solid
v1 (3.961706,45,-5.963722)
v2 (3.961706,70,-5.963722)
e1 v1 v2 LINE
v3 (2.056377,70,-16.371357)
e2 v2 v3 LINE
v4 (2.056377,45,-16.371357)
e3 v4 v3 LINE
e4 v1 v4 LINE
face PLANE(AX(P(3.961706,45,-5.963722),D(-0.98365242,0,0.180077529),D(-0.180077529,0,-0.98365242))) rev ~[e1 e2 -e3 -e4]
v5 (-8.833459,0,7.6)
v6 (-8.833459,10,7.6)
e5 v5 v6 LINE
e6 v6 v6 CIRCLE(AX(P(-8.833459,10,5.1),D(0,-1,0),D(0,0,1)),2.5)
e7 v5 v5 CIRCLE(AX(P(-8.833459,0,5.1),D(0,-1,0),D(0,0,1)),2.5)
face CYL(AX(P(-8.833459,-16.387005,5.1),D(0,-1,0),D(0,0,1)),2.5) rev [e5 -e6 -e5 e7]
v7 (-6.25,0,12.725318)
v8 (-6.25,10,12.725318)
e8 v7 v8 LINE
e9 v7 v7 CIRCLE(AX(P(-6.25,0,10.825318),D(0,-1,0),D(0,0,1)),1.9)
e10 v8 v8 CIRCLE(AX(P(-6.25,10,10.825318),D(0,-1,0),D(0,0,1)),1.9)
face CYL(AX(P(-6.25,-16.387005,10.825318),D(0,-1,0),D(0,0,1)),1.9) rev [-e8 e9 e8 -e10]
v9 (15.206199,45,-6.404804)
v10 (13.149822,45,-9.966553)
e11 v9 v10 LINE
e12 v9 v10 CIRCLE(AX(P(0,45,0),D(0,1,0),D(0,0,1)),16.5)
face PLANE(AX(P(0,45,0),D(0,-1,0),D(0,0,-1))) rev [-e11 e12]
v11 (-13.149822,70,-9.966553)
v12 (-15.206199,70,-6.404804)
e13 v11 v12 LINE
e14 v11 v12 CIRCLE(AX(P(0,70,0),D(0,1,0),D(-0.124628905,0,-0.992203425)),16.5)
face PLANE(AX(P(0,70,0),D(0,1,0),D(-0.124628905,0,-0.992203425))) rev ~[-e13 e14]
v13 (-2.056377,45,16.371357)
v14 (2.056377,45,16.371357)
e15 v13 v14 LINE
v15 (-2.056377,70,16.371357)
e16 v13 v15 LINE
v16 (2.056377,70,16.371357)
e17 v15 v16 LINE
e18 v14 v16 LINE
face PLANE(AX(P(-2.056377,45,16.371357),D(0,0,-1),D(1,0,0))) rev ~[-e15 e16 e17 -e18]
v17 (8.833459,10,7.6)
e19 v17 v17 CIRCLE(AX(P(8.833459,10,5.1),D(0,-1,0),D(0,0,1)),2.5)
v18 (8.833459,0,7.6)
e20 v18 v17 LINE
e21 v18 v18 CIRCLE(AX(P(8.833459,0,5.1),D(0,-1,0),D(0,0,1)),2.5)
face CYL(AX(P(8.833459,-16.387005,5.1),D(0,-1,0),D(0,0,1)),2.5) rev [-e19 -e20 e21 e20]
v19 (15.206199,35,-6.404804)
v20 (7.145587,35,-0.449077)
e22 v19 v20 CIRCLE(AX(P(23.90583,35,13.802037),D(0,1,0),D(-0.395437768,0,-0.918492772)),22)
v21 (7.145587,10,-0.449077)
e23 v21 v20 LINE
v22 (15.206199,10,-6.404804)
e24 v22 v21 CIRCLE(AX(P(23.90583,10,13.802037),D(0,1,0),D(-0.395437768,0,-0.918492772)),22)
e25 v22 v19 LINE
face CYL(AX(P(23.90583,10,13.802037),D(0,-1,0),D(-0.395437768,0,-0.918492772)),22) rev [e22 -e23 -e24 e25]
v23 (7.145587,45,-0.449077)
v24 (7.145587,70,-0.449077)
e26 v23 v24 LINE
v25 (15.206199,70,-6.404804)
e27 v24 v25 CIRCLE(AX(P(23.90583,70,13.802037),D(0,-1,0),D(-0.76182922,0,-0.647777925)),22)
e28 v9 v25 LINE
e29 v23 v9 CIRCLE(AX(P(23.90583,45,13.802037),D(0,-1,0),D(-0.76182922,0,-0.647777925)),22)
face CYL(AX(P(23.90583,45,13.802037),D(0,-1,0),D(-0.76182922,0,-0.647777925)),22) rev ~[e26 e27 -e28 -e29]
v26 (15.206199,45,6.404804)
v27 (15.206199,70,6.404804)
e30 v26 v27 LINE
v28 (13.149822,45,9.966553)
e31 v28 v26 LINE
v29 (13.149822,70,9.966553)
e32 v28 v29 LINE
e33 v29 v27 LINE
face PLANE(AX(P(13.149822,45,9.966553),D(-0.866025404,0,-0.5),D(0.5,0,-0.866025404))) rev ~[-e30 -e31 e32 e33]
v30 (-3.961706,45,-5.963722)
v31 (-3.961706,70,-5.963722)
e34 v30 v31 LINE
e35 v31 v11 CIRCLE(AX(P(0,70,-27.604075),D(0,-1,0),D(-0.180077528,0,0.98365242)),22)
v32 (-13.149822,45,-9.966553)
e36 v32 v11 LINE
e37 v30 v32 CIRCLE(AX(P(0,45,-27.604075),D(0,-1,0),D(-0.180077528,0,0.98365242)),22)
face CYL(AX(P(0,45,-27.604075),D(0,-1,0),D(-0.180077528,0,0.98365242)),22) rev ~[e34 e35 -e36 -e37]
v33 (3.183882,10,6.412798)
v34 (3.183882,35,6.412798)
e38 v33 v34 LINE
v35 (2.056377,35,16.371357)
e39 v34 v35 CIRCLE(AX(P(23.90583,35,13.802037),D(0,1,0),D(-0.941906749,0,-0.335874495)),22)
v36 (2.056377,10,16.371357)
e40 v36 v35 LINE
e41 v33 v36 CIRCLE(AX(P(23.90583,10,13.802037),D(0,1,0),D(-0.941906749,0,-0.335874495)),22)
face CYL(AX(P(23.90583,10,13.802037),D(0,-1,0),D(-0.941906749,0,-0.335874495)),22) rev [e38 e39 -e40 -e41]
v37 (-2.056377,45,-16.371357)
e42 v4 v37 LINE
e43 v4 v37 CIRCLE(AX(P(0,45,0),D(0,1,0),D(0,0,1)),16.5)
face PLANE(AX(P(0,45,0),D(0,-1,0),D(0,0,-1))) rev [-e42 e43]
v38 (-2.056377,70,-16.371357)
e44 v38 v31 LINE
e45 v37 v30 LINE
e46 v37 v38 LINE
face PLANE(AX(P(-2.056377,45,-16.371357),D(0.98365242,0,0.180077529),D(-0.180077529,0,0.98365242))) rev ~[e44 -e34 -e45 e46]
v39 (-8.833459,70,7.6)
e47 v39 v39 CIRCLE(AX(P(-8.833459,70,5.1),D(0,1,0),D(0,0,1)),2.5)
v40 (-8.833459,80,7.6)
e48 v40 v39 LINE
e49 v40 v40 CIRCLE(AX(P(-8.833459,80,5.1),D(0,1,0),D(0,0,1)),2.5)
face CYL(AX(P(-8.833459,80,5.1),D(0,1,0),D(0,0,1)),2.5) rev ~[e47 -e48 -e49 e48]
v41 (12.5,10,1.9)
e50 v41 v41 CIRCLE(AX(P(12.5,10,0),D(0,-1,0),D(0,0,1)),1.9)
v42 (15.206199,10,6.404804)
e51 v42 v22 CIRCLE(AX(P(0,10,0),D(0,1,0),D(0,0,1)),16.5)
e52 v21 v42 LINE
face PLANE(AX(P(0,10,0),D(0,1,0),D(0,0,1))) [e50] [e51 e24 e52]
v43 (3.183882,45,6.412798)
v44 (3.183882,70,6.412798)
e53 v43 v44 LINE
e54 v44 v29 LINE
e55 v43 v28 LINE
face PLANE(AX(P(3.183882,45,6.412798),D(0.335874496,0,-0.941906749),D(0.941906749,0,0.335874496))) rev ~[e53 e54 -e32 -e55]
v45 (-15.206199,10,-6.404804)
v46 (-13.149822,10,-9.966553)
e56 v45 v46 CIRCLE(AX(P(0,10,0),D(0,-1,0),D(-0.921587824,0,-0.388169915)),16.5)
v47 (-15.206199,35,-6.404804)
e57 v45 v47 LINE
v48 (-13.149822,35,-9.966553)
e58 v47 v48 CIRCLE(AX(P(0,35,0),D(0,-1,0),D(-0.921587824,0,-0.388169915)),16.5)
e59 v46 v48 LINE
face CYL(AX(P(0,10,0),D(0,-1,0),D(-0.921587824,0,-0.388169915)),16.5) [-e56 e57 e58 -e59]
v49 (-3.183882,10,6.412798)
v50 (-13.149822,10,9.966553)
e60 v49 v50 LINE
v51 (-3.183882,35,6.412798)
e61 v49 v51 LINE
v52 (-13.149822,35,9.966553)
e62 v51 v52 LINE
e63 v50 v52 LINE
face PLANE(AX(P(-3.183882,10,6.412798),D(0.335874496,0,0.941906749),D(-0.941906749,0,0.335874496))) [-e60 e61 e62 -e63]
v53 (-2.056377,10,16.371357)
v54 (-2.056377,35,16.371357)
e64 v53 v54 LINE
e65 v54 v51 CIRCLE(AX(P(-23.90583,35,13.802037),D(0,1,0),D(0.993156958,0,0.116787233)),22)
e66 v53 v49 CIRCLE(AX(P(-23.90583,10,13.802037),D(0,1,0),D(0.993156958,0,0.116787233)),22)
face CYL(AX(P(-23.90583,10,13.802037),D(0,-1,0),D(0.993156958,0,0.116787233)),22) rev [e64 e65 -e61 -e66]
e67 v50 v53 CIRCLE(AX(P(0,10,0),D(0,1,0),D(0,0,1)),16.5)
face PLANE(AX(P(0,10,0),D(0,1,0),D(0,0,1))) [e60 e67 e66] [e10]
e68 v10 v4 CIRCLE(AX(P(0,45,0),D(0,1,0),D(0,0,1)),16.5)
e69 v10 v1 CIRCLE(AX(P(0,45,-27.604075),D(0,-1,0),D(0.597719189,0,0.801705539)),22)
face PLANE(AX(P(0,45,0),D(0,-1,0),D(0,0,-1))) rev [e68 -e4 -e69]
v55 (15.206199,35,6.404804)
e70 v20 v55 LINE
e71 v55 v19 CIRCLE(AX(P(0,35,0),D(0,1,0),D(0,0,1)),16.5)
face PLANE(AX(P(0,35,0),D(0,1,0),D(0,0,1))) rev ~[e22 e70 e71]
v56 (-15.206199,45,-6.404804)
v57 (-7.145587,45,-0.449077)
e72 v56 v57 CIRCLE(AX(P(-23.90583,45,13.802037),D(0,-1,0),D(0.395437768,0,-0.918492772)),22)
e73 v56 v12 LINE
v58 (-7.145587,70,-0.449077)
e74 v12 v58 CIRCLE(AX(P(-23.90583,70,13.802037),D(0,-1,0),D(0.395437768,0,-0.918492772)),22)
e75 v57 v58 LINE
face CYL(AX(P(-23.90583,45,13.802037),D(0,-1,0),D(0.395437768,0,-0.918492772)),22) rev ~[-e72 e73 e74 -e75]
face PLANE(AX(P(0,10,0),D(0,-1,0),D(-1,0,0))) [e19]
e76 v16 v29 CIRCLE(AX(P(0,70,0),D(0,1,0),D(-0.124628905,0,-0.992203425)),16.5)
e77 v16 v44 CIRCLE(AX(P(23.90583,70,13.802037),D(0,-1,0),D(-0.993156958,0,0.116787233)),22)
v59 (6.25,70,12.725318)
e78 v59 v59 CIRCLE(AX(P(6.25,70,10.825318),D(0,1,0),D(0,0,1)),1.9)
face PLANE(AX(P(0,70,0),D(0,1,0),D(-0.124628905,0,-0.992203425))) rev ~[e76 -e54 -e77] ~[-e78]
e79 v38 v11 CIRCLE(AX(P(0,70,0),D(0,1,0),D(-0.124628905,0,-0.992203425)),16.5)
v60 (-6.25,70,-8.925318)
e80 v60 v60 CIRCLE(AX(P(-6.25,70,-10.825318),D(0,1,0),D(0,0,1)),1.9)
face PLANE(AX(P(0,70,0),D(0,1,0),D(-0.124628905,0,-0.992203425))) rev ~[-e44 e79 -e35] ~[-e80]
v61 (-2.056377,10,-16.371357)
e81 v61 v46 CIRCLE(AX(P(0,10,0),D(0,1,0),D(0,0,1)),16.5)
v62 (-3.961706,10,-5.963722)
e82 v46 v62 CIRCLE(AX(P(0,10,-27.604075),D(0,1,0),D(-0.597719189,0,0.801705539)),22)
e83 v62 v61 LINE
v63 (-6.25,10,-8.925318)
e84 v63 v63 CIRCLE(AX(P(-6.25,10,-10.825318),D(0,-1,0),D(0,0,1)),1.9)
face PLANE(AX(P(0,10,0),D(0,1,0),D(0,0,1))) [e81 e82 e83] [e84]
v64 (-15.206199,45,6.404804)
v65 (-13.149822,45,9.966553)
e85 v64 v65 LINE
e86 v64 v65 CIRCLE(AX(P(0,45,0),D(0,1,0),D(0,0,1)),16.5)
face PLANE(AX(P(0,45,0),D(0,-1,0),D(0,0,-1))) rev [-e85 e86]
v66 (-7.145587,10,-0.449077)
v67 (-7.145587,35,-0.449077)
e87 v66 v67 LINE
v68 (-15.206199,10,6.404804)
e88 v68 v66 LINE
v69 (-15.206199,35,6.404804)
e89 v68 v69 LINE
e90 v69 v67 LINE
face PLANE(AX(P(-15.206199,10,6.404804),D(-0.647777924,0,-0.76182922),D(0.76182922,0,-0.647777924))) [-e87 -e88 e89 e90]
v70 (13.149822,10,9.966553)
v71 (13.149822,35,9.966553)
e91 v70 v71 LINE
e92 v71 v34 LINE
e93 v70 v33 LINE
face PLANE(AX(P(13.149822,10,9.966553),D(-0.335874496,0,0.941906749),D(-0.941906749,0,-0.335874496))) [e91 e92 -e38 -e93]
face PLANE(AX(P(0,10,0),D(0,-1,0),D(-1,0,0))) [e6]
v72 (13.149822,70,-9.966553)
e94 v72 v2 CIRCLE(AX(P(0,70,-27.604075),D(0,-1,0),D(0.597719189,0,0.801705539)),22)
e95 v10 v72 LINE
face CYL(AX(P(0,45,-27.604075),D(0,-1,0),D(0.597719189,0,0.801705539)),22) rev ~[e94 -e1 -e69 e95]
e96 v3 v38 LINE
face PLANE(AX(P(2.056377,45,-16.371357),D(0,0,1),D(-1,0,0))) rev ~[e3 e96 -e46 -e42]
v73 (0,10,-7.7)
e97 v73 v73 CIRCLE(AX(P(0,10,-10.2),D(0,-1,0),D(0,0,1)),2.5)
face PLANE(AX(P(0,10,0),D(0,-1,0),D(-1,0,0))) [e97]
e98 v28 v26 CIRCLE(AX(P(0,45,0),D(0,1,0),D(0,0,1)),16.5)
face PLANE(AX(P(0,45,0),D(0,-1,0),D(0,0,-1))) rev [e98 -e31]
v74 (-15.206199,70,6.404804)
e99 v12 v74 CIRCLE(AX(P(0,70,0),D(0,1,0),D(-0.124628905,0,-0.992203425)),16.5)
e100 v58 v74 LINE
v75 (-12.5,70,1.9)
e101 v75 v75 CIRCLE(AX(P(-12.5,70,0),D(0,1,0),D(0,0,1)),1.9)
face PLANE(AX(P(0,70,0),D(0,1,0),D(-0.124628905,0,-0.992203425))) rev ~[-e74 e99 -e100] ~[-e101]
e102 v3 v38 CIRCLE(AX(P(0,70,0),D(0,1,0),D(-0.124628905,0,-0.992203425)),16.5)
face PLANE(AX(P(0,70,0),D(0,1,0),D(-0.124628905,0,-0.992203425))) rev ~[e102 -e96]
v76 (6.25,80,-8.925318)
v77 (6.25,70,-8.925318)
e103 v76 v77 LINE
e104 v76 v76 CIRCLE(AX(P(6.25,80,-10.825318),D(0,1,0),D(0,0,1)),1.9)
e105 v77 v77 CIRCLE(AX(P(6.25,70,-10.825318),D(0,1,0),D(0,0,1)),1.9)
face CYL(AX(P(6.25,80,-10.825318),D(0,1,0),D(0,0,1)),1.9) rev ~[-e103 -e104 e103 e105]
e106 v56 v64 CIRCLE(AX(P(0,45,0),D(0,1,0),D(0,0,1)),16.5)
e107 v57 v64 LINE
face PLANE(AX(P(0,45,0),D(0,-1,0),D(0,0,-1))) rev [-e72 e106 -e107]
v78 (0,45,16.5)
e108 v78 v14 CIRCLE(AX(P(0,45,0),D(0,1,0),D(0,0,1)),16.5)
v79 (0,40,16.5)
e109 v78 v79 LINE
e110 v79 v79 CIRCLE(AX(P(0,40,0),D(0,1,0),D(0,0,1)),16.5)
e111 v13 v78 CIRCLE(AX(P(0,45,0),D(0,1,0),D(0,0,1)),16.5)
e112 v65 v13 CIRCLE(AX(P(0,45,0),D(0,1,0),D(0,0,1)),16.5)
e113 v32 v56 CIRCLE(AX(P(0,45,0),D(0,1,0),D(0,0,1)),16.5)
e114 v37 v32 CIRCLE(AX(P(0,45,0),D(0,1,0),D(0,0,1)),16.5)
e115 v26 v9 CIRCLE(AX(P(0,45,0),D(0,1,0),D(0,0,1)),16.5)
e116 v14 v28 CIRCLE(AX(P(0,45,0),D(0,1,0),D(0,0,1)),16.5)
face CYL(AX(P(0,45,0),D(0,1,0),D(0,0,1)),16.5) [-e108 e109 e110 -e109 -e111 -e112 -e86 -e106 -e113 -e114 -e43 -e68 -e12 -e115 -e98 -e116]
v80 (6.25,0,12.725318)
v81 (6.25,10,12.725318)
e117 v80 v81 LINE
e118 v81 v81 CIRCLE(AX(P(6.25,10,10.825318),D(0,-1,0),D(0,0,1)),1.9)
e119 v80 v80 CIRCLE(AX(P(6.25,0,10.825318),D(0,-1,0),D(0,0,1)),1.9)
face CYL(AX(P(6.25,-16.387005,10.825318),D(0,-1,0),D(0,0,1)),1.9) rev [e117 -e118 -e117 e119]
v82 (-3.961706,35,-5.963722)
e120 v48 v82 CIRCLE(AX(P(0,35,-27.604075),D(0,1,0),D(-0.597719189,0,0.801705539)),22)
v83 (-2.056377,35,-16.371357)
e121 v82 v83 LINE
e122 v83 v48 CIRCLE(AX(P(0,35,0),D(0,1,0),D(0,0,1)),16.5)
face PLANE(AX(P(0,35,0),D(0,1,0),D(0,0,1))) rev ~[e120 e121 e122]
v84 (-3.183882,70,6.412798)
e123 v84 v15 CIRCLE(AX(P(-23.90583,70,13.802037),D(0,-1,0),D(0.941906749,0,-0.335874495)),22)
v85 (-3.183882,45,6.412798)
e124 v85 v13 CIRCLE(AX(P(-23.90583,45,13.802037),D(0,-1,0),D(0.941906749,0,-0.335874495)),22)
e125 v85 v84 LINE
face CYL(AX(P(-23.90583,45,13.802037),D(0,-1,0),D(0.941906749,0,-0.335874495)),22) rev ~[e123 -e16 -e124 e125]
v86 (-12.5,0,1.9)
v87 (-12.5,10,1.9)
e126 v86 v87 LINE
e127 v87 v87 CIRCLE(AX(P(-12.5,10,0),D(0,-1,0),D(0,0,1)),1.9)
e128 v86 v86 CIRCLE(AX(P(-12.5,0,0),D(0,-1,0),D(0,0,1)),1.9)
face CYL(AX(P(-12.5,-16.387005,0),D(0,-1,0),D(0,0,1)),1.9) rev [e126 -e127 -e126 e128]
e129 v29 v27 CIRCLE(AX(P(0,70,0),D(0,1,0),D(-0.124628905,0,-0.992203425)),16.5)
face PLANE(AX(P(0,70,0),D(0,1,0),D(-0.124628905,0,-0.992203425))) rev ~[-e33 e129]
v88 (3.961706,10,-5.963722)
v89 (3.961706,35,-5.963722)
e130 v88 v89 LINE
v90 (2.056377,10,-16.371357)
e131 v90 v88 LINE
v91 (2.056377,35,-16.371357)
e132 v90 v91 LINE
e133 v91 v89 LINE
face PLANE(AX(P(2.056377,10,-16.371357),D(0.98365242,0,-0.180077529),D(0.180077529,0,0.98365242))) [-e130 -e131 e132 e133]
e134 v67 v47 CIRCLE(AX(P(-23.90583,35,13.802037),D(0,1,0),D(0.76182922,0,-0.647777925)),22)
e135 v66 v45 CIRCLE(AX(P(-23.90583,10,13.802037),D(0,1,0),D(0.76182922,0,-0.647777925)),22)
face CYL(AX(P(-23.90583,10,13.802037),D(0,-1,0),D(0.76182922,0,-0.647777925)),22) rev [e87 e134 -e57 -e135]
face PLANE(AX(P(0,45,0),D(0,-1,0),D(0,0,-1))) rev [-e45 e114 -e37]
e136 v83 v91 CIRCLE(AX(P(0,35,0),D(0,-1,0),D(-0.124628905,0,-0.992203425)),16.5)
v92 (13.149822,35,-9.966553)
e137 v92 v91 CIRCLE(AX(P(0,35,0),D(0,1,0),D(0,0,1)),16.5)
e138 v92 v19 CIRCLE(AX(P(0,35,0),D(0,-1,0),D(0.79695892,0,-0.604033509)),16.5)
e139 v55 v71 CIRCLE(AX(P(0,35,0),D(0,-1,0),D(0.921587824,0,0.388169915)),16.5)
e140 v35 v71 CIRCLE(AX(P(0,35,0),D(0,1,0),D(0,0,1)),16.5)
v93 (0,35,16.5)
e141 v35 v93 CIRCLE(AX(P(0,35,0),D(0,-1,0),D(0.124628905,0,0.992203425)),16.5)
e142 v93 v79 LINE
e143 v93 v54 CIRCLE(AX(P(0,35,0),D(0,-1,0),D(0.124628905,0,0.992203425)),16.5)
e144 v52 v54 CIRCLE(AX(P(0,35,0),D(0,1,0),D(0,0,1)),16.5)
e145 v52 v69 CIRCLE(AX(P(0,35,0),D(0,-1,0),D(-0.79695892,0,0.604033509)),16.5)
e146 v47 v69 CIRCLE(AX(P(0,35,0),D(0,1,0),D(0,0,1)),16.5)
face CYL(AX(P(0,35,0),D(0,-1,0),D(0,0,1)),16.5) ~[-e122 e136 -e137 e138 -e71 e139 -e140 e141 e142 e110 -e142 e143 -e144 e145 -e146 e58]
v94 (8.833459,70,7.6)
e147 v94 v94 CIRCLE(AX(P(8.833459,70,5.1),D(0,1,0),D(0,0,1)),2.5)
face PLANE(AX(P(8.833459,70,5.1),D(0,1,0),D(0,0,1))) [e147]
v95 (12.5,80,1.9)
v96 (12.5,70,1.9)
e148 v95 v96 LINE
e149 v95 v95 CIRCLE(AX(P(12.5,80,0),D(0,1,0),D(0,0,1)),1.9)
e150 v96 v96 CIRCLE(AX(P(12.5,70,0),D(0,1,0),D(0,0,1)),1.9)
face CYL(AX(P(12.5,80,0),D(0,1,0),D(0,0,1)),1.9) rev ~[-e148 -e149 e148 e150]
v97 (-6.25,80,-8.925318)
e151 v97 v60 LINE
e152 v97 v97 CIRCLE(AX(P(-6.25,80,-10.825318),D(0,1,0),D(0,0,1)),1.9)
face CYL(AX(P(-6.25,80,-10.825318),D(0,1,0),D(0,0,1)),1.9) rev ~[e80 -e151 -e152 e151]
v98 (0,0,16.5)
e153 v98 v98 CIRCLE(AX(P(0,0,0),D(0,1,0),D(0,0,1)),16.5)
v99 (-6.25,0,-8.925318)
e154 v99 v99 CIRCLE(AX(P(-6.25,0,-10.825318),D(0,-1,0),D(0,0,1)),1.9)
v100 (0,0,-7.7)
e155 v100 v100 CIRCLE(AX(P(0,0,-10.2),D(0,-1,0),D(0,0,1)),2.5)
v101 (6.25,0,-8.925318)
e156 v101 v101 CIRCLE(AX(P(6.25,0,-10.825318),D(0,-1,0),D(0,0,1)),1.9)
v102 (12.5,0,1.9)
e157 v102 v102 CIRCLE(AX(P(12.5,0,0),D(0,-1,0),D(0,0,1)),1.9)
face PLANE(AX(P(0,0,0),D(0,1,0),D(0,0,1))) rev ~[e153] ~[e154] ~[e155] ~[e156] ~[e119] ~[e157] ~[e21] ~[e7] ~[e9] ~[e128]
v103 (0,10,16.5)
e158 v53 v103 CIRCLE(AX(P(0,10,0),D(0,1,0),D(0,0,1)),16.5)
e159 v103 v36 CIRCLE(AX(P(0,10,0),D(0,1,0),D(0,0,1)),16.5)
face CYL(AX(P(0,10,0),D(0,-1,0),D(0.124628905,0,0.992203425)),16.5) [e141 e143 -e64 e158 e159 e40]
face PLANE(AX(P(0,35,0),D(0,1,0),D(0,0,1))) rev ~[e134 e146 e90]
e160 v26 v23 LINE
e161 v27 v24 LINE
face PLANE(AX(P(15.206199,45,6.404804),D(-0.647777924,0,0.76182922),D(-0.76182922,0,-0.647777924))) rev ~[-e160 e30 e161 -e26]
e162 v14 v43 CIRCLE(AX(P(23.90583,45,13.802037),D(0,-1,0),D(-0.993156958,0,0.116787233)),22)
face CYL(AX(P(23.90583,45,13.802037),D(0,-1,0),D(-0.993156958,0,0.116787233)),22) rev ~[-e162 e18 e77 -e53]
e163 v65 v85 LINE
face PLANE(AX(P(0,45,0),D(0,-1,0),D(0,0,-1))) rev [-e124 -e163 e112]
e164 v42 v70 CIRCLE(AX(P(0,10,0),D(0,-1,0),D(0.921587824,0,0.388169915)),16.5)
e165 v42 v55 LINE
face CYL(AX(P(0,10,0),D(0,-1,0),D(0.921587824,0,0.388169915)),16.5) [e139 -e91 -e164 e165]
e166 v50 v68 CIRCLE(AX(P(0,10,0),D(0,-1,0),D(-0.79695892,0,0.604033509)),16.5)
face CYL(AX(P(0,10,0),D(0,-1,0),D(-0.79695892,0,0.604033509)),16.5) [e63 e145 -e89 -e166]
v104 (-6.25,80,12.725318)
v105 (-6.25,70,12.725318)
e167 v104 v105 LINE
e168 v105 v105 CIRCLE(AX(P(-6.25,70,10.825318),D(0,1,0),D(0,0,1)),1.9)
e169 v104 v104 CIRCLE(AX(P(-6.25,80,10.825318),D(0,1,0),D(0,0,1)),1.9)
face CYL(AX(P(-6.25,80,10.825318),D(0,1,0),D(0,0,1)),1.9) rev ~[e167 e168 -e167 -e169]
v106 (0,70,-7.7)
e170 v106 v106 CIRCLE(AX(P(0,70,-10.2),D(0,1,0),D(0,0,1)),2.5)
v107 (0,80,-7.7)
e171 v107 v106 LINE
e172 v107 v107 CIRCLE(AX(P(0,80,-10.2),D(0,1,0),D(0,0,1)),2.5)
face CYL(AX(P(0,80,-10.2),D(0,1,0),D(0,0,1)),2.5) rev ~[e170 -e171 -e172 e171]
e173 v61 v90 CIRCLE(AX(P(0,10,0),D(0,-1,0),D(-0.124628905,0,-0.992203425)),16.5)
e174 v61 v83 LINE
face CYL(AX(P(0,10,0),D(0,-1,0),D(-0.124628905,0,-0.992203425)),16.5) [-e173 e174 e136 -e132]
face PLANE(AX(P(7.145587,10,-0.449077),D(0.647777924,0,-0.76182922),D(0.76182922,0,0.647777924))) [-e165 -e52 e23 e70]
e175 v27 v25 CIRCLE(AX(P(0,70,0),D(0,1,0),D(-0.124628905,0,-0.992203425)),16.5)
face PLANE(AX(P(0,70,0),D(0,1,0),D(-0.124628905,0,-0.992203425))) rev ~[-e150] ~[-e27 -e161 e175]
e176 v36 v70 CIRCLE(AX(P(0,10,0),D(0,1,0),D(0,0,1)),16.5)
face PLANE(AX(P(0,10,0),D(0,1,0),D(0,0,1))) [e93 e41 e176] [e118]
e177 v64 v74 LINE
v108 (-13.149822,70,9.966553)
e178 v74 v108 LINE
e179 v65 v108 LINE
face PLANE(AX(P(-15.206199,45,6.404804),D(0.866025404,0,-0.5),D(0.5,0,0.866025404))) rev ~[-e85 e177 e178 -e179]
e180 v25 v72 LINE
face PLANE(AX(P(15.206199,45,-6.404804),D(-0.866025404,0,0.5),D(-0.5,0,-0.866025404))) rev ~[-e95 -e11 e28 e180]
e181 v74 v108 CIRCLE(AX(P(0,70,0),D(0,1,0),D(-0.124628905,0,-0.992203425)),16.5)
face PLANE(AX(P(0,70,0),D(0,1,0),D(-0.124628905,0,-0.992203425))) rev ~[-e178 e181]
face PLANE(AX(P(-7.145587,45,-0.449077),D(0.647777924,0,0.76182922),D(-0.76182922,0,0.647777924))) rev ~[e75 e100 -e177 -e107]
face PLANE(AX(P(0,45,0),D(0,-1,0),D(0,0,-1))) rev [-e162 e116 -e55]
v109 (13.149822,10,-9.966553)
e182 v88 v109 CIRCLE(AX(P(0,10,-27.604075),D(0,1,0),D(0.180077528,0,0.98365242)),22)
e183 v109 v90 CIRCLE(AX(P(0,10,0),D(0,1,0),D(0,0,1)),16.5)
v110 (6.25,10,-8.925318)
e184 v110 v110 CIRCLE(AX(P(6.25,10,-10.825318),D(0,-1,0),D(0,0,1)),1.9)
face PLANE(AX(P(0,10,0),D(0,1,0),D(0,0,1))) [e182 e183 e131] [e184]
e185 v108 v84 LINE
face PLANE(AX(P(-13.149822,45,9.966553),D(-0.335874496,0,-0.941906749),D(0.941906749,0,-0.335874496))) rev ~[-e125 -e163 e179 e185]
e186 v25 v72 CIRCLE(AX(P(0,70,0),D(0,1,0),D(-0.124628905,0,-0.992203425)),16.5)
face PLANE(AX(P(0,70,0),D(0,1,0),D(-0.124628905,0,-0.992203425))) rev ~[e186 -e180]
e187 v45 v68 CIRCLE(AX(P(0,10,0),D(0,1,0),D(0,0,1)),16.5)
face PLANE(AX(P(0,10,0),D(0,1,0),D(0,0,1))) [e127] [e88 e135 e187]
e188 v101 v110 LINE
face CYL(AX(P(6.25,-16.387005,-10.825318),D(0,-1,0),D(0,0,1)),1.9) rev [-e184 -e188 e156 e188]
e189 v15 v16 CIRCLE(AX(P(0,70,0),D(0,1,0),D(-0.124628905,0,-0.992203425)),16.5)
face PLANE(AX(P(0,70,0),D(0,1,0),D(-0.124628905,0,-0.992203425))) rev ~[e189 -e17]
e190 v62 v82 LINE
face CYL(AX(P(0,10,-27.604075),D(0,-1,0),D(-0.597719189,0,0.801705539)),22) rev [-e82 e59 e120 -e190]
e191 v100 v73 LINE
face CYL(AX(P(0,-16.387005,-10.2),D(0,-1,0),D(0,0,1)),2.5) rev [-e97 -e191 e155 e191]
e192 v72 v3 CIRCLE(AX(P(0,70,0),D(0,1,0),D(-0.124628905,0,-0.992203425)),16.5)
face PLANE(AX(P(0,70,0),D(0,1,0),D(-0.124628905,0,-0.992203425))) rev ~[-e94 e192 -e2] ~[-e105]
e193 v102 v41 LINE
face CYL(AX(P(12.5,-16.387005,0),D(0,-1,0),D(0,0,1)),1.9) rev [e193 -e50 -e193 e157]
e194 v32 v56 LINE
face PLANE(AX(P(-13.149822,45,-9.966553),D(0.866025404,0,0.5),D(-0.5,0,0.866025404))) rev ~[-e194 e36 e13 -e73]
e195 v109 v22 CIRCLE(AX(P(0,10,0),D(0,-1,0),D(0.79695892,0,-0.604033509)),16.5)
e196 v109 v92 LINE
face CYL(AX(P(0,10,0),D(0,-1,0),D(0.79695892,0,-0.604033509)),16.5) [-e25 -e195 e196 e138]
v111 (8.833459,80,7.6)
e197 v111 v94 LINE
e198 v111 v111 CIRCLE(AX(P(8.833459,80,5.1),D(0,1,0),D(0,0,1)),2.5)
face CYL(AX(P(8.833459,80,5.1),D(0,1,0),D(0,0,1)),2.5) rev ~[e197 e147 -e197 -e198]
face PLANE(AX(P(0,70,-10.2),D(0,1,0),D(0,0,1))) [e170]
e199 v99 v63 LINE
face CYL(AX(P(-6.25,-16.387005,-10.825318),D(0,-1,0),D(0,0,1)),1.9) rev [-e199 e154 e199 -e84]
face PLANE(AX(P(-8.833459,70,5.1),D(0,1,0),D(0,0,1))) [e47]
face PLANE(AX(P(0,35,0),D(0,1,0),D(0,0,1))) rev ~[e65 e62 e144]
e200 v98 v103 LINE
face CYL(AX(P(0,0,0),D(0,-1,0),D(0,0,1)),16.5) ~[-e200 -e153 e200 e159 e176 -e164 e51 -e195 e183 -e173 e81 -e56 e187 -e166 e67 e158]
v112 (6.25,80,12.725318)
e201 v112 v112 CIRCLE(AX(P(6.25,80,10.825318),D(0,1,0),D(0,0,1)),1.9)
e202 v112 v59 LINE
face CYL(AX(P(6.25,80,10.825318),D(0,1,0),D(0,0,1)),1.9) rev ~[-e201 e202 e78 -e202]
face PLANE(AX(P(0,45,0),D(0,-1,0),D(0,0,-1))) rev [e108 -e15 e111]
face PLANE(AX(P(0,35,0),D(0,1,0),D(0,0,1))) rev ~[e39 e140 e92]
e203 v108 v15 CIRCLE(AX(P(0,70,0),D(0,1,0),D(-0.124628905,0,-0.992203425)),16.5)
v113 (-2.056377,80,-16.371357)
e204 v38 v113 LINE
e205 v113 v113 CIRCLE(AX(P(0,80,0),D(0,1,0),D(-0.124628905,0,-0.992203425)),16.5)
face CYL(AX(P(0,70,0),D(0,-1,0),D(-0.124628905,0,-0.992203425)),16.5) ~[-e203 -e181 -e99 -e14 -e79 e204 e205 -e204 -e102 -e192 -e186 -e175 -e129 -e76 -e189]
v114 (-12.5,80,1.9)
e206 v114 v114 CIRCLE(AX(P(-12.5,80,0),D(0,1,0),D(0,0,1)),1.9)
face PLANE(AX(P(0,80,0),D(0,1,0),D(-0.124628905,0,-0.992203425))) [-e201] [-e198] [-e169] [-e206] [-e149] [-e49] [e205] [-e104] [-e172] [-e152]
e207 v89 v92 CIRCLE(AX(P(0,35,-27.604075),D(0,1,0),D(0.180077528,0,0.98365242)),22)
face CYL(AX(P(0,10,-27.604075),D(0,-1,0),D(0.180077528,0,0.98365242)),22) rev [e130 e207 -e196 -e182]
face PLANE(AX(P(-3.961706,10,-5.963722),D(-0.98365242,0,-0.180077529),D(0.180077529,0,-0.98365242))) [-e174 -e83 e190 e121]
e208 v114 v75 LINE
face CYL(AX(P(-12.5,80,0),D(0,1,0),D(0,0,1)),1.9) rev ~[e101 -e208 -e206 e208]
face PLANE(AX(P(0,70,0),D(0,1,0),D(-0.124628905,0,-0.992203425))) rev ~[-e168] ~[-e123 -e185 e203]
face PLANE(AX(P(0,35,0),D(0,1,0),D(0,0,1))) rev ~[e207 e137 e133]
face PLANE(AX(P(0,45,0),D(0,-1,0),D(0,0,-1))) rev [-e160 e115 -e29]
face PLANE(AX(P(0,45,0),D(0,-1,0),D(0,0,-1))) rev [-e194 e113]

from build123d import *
from build123d.topology import SkipClean

# Parameters (mm, degrees)
SKETCH_1_R               = 16.5
EXTRUDE_1_DEPTH          = 10
CUT_EXTRUDE_1_DEPTH      = 26.38700455
CUT_EXTRUDE_1_DEPTH_BACK = 26.38700455
SKETCH_4_R               = 2.5
SKETCH_4_R_2             = 1.9
EXTRUDE_2_DEPTH          = 25
SKETCH_7_R               = 16.5
EXTRUDE_3_DEPTH          = 5
EXTRUDE_4_DEPTH          = 25
SKETCH_10_R              = 16.5
EXTRUDE_5_DEPTH          = 10
SKETCH_11_R              = 1.9
SKETCH_11_R_2            = 2.5
CUT_EXTRUDE_3_DEPTH      = 10


with BuildPart() as part:
    # 草图1 → 凸台-拉伸1 (new body)
    with BuildSketch(Plane(origin=(0, 0, 0), x_dir=(1, 0, 0), z_dir=(0, 1, 0))):
        with Locations(Location((0, 0, 0), (0, 0, 270))):
            Circle(SKETCH_1_R)
    extrude(amount=EXTRUDE_1_DEPTH)

    # 草图4 → 切除-拉伸1 (cut, two sides: drawn at the far end of the back side and taken through both)
    with BuildSketch(Plane(origin=(0, 10, 0), x_dir=(1, 0, 0), z_dir=(0, 1, 0)).offset(-CUT_EXTRUDE_1_DEPTH_BACK)):
        with Locations(Location((0, 10.2, 0), (0, 0, 270))):
            Circle(SKETCH_4_R)
        with Locations(Location((-6.25, 10.825317547, 0), (0, 0, 270))):
            Circle(SKETCH_4_R_2)
        with Locations(Location((6.25, 10.825317547, 0), (0, 0, 270))):
            Circle(SKETCH_4_R_2)
        with Locations(Location((12.5, 0, 0), (0, 0, 270))):
            Circle(SKETCH_4_R_2)
        with Locations(Location((6.25, -10.825317547, 0), (0, 0, 270))):
            Circle(SKETCH_4_R_2)
        with Locations(Location((-6.25, -10.825317547, 0), (0, 0, 270))):
            Circle(SKETCH_4_R_2)
        with Locations(Location((-12.5, 0, 0), (0, 0, 270))):
            Circle(SKETCH_4_R_2)
        with Locations(Location((8.833459119, -5.1, 0), (0, 0, 270))):
            Circle(SKETCH_4_R)
        with Locations(Location((-8.833459119, -5.1, 0), (0, 0, 270))):
            Circle(SKETCH_4_R)
    extrude(amount=CUT_EXTRUDE_1_DEPTH + CUT_EXTRUDE_1_DEPTH_BACK, mode=Mode.SUBTRACT)

    # 草图6 → 凸台-拉伸2 (add)
    with SkipClean():  # the faces are left unmerged after this step: merging them gives an invalid solid
        with BuildSketch(Plane(origin=(0, 10, 0), x_dir=(1, 0, 0), z_dir=(0, 1, 0))):
            with BuildLine():
                Line((-15.206199095, -6.404803594), (-7.145587151, 0.449076957))
                ThreePointArc((-7.145587151, 0.449076957), (-10.83223207, 3.892058734), (-15.206199095, 6.404803594))
                ThreePointArc((-15.206199095, 6.404803594), (-14.289419162, 8.25), (-13.149822167, 9.966552914))
                ThreePointArc((-13.149822167, 9.966552914), (-8.786737771, 7.434958785), (-3.961705629, 5.96372152))
                Line((-3.961705629, 5.96372152), (-2.056376928, 16.371356508))
                ThreePointArc((-2.056376928, 16.371356508), (0, 16.5), (2.056376928, 16.371356508))
                Line((2.056376928, 16.371356508), (3.961705629, 5.96372152))
                ThreePointArc((3.961705629, 5.96372152), (8.786737771, 7.434958785), (13.149822167, 9.966552914))
                ThreePointArc((13.149822167, 9.966552914), (14.289419162, 8.25), (15.206199095, 6.404803594))
                ThreePointArc((15.206199095, 6.404803594), (10.83223207, 3.892058734), (7.145587151, 0.449076957))
                Line((7.145587151, 0.449076957), (15.206199095, -6.404803594))
                ThreePointArc((15.206199095, -6.404803594), (14.289419162, -8.25), (13.149822167, -9.966552914))
                Line((13.149822167, -9.966552914), (3.183881523, -6.412798476))
                ThreePointArc((3.183881523, -6.412798476), (2.045494299, -11.327017519), (2.056376928, -16.371356508))
                ThreePointArc((2.056376928, -16.371356508), (0, -16.5), (-2.056376928, -16.371356508))
                ThreePointArc((-2.056376928, -16.371356508), (-2.045494299, -11.327017519), (-3.183881523, -6.412798476))
                Line((-3.183881523, -6.412798476), (-13.149822167, -9.966552914))
                ThreePointArc((-13.149822167, -9.966552914), (-14.289419162, -8.25), (-15.206199095, -6.404803594))
            make_face()
        extrude(amount=EXTRUDE_2_DEPTH)

    # 草图7 → 凸台-拉伸3 (add)
    with SkipClean():  # the faces are left unmerged after this step: merging them gives an invalid solid
        with BuildSketch(Plane(origin=(0, 35, 0), x_dir=(1, 0, 0), z_dir=(0, 1, 0))):
            with Locations(Location((0, 0, 0), (0, 0, 270))):
                Circle(SKETCH_7_R)
        extrude_3 = extrude(amount=EXTRUDE_3_DEPTH)

    # 镜向3: 凸台-拉伸3 across plane
    with SkipClean():  # the faces are left unmerged after this step: merging them gives an invalid solid
        add(extrude_3.mirror(Plane.ZX.offset(40)))

    # 草图9 → 凸台-拉伸4 (add)
    with SkipClean():  # the faces are left unmerged after this step: merging them gives an invalid solid
        with BuildSketch(Plane(origin=(0, 45, 0), x_dir=(1, 0, 0), z_dir=(0, 1, 0))):
            with BuildLine():
                Line((-13.149822167, -9.966552914), (-3.183881523, -6.412798476))
                ThreePointArc((-3.183881523, -6.412798476), (-2.045494299, -11.327017519), (-2.056376928, -16.371356508))
                Line((-2.056376928, -16.371356508), (2.056376928, -16.371356508))
                ThreePointArc((2.056376928, -16.371356508), (2.045494299, -11.327017519), (3.183881523, -6.412798476))
                Line((3.183881523, -6.412798476), (13.149822167, -9.966552914))
                Line((13.149822167, -9.966552914), (15.206199095, -6.404803594))
                Line((15.206199095, -6.404803594), (7.145587151, 0.449076957))
                ThreePointArc((7.145587151, 0.449076957), (10.83223207, 3.892058734), (15.206199095, 6.404803594))
                Line((15.206199095, 6.404803594), (13.149822167, 9.966552914))
                ThreePointArc((13.149822167, 9.966552914), (8.786737771, 7.434958785), (3.961705629, 5.96372152))
                Line((3.961705629, 5.96372152), (2.056376928, 16.371356508))
                Line((2.056376928, 16.371356508), (-2.056376928, 16.371356508))
                Line((-2.056376928, 16.371356508), (-3.961705629, 5.96372152))
                ThreePointArc((-3.961705629, 5.96372152), (-8.786737771, 7.434958785), (-13.149822167, 9.966552914))
                Line((-13.149822167, 9.966552914), (-15.206199095, 6.404803594))
                ThreePointArc((-15.206199095, 6.404803594), (-10.83223207, 3.892058734), (-7.145587151, 0.449076957))
                Line((-7.145587151, 0.449076957), (-15.206199095, -6.404803594))
                Line((-15.206199095, -6.404803594), (-13.149822167, -9.966552914))
            make_face()
        extrude(amount=EXTRUDE_4_DEPTH)

    # 草图10 → 凸台-拉伸5 (add)
    with SkipClean():  # the faces are left unmerged after this step: merging them gives an invalid solid
        with BuildSketch(Plane(origin=(0, 70, 0), x_dir=(1, 0, 0), z_dir=(0, 1, 0))):
            with Locations(Location((0, 0, 0), (0, 0, 97.159326011))):
                Circle(SKETCH_10_R)
        extrude(amount=EXTRUDE_5_DEPTH)

    # 草图11 → 切除-拉伸3 (cut)
    with SkipClean():  # the faces are left unmerged after this step: merging them gives an invalid solid
        with BuildSketch(Plane(origin=(0, 80, 0), x_dir=(1, 0, 0), z_dir=(0, 1, 0))):
            with Locations(Location((12.5, 0, 0), (0, 0, 270))):
                Circle(SKETCH_11_R)
            with Locations(Location((8.833459119, -5.1, 0), (0, 0, 270))):
                Circle(SKETCH_11_R_2)
            with Locations(Location((6.25, -10.825317547, 0), (0, 0, 270))):
                Circle(SKETCH_11_R)
            with Locations(Location((-6.25, -10.825317547, 0), (0, 0, 270))):
                Circle(SKETCH_11_R)
            with Locations(Location((-8.833459119, -5.1, 0), (0, 0, 270))):
                Circle(SKETCH_11_R_2)
            with Locations(Location((-12.5, 0, 0), (0, 0, 270))):
                Circle(SKETCH_11_R)
            with Locations(Location((-6.25, 10.825317547, 0), (0, 0, 270))):
                Circle(SKETCH_11_R)
            with Locations(Location((0, 10.2, 0), (0, 0, 270))):
                Circle(SKETCH_11_R_2)
            with Locations(Location((6.25, 10.825317547, 0), (0, 0, 270))):
                Circle(SKETCH_11_R)
        extrude(amount=-CUT_EXTRUDE_3_DEPTH, mode=Mode.SUBTRACT)


solid = part.part
